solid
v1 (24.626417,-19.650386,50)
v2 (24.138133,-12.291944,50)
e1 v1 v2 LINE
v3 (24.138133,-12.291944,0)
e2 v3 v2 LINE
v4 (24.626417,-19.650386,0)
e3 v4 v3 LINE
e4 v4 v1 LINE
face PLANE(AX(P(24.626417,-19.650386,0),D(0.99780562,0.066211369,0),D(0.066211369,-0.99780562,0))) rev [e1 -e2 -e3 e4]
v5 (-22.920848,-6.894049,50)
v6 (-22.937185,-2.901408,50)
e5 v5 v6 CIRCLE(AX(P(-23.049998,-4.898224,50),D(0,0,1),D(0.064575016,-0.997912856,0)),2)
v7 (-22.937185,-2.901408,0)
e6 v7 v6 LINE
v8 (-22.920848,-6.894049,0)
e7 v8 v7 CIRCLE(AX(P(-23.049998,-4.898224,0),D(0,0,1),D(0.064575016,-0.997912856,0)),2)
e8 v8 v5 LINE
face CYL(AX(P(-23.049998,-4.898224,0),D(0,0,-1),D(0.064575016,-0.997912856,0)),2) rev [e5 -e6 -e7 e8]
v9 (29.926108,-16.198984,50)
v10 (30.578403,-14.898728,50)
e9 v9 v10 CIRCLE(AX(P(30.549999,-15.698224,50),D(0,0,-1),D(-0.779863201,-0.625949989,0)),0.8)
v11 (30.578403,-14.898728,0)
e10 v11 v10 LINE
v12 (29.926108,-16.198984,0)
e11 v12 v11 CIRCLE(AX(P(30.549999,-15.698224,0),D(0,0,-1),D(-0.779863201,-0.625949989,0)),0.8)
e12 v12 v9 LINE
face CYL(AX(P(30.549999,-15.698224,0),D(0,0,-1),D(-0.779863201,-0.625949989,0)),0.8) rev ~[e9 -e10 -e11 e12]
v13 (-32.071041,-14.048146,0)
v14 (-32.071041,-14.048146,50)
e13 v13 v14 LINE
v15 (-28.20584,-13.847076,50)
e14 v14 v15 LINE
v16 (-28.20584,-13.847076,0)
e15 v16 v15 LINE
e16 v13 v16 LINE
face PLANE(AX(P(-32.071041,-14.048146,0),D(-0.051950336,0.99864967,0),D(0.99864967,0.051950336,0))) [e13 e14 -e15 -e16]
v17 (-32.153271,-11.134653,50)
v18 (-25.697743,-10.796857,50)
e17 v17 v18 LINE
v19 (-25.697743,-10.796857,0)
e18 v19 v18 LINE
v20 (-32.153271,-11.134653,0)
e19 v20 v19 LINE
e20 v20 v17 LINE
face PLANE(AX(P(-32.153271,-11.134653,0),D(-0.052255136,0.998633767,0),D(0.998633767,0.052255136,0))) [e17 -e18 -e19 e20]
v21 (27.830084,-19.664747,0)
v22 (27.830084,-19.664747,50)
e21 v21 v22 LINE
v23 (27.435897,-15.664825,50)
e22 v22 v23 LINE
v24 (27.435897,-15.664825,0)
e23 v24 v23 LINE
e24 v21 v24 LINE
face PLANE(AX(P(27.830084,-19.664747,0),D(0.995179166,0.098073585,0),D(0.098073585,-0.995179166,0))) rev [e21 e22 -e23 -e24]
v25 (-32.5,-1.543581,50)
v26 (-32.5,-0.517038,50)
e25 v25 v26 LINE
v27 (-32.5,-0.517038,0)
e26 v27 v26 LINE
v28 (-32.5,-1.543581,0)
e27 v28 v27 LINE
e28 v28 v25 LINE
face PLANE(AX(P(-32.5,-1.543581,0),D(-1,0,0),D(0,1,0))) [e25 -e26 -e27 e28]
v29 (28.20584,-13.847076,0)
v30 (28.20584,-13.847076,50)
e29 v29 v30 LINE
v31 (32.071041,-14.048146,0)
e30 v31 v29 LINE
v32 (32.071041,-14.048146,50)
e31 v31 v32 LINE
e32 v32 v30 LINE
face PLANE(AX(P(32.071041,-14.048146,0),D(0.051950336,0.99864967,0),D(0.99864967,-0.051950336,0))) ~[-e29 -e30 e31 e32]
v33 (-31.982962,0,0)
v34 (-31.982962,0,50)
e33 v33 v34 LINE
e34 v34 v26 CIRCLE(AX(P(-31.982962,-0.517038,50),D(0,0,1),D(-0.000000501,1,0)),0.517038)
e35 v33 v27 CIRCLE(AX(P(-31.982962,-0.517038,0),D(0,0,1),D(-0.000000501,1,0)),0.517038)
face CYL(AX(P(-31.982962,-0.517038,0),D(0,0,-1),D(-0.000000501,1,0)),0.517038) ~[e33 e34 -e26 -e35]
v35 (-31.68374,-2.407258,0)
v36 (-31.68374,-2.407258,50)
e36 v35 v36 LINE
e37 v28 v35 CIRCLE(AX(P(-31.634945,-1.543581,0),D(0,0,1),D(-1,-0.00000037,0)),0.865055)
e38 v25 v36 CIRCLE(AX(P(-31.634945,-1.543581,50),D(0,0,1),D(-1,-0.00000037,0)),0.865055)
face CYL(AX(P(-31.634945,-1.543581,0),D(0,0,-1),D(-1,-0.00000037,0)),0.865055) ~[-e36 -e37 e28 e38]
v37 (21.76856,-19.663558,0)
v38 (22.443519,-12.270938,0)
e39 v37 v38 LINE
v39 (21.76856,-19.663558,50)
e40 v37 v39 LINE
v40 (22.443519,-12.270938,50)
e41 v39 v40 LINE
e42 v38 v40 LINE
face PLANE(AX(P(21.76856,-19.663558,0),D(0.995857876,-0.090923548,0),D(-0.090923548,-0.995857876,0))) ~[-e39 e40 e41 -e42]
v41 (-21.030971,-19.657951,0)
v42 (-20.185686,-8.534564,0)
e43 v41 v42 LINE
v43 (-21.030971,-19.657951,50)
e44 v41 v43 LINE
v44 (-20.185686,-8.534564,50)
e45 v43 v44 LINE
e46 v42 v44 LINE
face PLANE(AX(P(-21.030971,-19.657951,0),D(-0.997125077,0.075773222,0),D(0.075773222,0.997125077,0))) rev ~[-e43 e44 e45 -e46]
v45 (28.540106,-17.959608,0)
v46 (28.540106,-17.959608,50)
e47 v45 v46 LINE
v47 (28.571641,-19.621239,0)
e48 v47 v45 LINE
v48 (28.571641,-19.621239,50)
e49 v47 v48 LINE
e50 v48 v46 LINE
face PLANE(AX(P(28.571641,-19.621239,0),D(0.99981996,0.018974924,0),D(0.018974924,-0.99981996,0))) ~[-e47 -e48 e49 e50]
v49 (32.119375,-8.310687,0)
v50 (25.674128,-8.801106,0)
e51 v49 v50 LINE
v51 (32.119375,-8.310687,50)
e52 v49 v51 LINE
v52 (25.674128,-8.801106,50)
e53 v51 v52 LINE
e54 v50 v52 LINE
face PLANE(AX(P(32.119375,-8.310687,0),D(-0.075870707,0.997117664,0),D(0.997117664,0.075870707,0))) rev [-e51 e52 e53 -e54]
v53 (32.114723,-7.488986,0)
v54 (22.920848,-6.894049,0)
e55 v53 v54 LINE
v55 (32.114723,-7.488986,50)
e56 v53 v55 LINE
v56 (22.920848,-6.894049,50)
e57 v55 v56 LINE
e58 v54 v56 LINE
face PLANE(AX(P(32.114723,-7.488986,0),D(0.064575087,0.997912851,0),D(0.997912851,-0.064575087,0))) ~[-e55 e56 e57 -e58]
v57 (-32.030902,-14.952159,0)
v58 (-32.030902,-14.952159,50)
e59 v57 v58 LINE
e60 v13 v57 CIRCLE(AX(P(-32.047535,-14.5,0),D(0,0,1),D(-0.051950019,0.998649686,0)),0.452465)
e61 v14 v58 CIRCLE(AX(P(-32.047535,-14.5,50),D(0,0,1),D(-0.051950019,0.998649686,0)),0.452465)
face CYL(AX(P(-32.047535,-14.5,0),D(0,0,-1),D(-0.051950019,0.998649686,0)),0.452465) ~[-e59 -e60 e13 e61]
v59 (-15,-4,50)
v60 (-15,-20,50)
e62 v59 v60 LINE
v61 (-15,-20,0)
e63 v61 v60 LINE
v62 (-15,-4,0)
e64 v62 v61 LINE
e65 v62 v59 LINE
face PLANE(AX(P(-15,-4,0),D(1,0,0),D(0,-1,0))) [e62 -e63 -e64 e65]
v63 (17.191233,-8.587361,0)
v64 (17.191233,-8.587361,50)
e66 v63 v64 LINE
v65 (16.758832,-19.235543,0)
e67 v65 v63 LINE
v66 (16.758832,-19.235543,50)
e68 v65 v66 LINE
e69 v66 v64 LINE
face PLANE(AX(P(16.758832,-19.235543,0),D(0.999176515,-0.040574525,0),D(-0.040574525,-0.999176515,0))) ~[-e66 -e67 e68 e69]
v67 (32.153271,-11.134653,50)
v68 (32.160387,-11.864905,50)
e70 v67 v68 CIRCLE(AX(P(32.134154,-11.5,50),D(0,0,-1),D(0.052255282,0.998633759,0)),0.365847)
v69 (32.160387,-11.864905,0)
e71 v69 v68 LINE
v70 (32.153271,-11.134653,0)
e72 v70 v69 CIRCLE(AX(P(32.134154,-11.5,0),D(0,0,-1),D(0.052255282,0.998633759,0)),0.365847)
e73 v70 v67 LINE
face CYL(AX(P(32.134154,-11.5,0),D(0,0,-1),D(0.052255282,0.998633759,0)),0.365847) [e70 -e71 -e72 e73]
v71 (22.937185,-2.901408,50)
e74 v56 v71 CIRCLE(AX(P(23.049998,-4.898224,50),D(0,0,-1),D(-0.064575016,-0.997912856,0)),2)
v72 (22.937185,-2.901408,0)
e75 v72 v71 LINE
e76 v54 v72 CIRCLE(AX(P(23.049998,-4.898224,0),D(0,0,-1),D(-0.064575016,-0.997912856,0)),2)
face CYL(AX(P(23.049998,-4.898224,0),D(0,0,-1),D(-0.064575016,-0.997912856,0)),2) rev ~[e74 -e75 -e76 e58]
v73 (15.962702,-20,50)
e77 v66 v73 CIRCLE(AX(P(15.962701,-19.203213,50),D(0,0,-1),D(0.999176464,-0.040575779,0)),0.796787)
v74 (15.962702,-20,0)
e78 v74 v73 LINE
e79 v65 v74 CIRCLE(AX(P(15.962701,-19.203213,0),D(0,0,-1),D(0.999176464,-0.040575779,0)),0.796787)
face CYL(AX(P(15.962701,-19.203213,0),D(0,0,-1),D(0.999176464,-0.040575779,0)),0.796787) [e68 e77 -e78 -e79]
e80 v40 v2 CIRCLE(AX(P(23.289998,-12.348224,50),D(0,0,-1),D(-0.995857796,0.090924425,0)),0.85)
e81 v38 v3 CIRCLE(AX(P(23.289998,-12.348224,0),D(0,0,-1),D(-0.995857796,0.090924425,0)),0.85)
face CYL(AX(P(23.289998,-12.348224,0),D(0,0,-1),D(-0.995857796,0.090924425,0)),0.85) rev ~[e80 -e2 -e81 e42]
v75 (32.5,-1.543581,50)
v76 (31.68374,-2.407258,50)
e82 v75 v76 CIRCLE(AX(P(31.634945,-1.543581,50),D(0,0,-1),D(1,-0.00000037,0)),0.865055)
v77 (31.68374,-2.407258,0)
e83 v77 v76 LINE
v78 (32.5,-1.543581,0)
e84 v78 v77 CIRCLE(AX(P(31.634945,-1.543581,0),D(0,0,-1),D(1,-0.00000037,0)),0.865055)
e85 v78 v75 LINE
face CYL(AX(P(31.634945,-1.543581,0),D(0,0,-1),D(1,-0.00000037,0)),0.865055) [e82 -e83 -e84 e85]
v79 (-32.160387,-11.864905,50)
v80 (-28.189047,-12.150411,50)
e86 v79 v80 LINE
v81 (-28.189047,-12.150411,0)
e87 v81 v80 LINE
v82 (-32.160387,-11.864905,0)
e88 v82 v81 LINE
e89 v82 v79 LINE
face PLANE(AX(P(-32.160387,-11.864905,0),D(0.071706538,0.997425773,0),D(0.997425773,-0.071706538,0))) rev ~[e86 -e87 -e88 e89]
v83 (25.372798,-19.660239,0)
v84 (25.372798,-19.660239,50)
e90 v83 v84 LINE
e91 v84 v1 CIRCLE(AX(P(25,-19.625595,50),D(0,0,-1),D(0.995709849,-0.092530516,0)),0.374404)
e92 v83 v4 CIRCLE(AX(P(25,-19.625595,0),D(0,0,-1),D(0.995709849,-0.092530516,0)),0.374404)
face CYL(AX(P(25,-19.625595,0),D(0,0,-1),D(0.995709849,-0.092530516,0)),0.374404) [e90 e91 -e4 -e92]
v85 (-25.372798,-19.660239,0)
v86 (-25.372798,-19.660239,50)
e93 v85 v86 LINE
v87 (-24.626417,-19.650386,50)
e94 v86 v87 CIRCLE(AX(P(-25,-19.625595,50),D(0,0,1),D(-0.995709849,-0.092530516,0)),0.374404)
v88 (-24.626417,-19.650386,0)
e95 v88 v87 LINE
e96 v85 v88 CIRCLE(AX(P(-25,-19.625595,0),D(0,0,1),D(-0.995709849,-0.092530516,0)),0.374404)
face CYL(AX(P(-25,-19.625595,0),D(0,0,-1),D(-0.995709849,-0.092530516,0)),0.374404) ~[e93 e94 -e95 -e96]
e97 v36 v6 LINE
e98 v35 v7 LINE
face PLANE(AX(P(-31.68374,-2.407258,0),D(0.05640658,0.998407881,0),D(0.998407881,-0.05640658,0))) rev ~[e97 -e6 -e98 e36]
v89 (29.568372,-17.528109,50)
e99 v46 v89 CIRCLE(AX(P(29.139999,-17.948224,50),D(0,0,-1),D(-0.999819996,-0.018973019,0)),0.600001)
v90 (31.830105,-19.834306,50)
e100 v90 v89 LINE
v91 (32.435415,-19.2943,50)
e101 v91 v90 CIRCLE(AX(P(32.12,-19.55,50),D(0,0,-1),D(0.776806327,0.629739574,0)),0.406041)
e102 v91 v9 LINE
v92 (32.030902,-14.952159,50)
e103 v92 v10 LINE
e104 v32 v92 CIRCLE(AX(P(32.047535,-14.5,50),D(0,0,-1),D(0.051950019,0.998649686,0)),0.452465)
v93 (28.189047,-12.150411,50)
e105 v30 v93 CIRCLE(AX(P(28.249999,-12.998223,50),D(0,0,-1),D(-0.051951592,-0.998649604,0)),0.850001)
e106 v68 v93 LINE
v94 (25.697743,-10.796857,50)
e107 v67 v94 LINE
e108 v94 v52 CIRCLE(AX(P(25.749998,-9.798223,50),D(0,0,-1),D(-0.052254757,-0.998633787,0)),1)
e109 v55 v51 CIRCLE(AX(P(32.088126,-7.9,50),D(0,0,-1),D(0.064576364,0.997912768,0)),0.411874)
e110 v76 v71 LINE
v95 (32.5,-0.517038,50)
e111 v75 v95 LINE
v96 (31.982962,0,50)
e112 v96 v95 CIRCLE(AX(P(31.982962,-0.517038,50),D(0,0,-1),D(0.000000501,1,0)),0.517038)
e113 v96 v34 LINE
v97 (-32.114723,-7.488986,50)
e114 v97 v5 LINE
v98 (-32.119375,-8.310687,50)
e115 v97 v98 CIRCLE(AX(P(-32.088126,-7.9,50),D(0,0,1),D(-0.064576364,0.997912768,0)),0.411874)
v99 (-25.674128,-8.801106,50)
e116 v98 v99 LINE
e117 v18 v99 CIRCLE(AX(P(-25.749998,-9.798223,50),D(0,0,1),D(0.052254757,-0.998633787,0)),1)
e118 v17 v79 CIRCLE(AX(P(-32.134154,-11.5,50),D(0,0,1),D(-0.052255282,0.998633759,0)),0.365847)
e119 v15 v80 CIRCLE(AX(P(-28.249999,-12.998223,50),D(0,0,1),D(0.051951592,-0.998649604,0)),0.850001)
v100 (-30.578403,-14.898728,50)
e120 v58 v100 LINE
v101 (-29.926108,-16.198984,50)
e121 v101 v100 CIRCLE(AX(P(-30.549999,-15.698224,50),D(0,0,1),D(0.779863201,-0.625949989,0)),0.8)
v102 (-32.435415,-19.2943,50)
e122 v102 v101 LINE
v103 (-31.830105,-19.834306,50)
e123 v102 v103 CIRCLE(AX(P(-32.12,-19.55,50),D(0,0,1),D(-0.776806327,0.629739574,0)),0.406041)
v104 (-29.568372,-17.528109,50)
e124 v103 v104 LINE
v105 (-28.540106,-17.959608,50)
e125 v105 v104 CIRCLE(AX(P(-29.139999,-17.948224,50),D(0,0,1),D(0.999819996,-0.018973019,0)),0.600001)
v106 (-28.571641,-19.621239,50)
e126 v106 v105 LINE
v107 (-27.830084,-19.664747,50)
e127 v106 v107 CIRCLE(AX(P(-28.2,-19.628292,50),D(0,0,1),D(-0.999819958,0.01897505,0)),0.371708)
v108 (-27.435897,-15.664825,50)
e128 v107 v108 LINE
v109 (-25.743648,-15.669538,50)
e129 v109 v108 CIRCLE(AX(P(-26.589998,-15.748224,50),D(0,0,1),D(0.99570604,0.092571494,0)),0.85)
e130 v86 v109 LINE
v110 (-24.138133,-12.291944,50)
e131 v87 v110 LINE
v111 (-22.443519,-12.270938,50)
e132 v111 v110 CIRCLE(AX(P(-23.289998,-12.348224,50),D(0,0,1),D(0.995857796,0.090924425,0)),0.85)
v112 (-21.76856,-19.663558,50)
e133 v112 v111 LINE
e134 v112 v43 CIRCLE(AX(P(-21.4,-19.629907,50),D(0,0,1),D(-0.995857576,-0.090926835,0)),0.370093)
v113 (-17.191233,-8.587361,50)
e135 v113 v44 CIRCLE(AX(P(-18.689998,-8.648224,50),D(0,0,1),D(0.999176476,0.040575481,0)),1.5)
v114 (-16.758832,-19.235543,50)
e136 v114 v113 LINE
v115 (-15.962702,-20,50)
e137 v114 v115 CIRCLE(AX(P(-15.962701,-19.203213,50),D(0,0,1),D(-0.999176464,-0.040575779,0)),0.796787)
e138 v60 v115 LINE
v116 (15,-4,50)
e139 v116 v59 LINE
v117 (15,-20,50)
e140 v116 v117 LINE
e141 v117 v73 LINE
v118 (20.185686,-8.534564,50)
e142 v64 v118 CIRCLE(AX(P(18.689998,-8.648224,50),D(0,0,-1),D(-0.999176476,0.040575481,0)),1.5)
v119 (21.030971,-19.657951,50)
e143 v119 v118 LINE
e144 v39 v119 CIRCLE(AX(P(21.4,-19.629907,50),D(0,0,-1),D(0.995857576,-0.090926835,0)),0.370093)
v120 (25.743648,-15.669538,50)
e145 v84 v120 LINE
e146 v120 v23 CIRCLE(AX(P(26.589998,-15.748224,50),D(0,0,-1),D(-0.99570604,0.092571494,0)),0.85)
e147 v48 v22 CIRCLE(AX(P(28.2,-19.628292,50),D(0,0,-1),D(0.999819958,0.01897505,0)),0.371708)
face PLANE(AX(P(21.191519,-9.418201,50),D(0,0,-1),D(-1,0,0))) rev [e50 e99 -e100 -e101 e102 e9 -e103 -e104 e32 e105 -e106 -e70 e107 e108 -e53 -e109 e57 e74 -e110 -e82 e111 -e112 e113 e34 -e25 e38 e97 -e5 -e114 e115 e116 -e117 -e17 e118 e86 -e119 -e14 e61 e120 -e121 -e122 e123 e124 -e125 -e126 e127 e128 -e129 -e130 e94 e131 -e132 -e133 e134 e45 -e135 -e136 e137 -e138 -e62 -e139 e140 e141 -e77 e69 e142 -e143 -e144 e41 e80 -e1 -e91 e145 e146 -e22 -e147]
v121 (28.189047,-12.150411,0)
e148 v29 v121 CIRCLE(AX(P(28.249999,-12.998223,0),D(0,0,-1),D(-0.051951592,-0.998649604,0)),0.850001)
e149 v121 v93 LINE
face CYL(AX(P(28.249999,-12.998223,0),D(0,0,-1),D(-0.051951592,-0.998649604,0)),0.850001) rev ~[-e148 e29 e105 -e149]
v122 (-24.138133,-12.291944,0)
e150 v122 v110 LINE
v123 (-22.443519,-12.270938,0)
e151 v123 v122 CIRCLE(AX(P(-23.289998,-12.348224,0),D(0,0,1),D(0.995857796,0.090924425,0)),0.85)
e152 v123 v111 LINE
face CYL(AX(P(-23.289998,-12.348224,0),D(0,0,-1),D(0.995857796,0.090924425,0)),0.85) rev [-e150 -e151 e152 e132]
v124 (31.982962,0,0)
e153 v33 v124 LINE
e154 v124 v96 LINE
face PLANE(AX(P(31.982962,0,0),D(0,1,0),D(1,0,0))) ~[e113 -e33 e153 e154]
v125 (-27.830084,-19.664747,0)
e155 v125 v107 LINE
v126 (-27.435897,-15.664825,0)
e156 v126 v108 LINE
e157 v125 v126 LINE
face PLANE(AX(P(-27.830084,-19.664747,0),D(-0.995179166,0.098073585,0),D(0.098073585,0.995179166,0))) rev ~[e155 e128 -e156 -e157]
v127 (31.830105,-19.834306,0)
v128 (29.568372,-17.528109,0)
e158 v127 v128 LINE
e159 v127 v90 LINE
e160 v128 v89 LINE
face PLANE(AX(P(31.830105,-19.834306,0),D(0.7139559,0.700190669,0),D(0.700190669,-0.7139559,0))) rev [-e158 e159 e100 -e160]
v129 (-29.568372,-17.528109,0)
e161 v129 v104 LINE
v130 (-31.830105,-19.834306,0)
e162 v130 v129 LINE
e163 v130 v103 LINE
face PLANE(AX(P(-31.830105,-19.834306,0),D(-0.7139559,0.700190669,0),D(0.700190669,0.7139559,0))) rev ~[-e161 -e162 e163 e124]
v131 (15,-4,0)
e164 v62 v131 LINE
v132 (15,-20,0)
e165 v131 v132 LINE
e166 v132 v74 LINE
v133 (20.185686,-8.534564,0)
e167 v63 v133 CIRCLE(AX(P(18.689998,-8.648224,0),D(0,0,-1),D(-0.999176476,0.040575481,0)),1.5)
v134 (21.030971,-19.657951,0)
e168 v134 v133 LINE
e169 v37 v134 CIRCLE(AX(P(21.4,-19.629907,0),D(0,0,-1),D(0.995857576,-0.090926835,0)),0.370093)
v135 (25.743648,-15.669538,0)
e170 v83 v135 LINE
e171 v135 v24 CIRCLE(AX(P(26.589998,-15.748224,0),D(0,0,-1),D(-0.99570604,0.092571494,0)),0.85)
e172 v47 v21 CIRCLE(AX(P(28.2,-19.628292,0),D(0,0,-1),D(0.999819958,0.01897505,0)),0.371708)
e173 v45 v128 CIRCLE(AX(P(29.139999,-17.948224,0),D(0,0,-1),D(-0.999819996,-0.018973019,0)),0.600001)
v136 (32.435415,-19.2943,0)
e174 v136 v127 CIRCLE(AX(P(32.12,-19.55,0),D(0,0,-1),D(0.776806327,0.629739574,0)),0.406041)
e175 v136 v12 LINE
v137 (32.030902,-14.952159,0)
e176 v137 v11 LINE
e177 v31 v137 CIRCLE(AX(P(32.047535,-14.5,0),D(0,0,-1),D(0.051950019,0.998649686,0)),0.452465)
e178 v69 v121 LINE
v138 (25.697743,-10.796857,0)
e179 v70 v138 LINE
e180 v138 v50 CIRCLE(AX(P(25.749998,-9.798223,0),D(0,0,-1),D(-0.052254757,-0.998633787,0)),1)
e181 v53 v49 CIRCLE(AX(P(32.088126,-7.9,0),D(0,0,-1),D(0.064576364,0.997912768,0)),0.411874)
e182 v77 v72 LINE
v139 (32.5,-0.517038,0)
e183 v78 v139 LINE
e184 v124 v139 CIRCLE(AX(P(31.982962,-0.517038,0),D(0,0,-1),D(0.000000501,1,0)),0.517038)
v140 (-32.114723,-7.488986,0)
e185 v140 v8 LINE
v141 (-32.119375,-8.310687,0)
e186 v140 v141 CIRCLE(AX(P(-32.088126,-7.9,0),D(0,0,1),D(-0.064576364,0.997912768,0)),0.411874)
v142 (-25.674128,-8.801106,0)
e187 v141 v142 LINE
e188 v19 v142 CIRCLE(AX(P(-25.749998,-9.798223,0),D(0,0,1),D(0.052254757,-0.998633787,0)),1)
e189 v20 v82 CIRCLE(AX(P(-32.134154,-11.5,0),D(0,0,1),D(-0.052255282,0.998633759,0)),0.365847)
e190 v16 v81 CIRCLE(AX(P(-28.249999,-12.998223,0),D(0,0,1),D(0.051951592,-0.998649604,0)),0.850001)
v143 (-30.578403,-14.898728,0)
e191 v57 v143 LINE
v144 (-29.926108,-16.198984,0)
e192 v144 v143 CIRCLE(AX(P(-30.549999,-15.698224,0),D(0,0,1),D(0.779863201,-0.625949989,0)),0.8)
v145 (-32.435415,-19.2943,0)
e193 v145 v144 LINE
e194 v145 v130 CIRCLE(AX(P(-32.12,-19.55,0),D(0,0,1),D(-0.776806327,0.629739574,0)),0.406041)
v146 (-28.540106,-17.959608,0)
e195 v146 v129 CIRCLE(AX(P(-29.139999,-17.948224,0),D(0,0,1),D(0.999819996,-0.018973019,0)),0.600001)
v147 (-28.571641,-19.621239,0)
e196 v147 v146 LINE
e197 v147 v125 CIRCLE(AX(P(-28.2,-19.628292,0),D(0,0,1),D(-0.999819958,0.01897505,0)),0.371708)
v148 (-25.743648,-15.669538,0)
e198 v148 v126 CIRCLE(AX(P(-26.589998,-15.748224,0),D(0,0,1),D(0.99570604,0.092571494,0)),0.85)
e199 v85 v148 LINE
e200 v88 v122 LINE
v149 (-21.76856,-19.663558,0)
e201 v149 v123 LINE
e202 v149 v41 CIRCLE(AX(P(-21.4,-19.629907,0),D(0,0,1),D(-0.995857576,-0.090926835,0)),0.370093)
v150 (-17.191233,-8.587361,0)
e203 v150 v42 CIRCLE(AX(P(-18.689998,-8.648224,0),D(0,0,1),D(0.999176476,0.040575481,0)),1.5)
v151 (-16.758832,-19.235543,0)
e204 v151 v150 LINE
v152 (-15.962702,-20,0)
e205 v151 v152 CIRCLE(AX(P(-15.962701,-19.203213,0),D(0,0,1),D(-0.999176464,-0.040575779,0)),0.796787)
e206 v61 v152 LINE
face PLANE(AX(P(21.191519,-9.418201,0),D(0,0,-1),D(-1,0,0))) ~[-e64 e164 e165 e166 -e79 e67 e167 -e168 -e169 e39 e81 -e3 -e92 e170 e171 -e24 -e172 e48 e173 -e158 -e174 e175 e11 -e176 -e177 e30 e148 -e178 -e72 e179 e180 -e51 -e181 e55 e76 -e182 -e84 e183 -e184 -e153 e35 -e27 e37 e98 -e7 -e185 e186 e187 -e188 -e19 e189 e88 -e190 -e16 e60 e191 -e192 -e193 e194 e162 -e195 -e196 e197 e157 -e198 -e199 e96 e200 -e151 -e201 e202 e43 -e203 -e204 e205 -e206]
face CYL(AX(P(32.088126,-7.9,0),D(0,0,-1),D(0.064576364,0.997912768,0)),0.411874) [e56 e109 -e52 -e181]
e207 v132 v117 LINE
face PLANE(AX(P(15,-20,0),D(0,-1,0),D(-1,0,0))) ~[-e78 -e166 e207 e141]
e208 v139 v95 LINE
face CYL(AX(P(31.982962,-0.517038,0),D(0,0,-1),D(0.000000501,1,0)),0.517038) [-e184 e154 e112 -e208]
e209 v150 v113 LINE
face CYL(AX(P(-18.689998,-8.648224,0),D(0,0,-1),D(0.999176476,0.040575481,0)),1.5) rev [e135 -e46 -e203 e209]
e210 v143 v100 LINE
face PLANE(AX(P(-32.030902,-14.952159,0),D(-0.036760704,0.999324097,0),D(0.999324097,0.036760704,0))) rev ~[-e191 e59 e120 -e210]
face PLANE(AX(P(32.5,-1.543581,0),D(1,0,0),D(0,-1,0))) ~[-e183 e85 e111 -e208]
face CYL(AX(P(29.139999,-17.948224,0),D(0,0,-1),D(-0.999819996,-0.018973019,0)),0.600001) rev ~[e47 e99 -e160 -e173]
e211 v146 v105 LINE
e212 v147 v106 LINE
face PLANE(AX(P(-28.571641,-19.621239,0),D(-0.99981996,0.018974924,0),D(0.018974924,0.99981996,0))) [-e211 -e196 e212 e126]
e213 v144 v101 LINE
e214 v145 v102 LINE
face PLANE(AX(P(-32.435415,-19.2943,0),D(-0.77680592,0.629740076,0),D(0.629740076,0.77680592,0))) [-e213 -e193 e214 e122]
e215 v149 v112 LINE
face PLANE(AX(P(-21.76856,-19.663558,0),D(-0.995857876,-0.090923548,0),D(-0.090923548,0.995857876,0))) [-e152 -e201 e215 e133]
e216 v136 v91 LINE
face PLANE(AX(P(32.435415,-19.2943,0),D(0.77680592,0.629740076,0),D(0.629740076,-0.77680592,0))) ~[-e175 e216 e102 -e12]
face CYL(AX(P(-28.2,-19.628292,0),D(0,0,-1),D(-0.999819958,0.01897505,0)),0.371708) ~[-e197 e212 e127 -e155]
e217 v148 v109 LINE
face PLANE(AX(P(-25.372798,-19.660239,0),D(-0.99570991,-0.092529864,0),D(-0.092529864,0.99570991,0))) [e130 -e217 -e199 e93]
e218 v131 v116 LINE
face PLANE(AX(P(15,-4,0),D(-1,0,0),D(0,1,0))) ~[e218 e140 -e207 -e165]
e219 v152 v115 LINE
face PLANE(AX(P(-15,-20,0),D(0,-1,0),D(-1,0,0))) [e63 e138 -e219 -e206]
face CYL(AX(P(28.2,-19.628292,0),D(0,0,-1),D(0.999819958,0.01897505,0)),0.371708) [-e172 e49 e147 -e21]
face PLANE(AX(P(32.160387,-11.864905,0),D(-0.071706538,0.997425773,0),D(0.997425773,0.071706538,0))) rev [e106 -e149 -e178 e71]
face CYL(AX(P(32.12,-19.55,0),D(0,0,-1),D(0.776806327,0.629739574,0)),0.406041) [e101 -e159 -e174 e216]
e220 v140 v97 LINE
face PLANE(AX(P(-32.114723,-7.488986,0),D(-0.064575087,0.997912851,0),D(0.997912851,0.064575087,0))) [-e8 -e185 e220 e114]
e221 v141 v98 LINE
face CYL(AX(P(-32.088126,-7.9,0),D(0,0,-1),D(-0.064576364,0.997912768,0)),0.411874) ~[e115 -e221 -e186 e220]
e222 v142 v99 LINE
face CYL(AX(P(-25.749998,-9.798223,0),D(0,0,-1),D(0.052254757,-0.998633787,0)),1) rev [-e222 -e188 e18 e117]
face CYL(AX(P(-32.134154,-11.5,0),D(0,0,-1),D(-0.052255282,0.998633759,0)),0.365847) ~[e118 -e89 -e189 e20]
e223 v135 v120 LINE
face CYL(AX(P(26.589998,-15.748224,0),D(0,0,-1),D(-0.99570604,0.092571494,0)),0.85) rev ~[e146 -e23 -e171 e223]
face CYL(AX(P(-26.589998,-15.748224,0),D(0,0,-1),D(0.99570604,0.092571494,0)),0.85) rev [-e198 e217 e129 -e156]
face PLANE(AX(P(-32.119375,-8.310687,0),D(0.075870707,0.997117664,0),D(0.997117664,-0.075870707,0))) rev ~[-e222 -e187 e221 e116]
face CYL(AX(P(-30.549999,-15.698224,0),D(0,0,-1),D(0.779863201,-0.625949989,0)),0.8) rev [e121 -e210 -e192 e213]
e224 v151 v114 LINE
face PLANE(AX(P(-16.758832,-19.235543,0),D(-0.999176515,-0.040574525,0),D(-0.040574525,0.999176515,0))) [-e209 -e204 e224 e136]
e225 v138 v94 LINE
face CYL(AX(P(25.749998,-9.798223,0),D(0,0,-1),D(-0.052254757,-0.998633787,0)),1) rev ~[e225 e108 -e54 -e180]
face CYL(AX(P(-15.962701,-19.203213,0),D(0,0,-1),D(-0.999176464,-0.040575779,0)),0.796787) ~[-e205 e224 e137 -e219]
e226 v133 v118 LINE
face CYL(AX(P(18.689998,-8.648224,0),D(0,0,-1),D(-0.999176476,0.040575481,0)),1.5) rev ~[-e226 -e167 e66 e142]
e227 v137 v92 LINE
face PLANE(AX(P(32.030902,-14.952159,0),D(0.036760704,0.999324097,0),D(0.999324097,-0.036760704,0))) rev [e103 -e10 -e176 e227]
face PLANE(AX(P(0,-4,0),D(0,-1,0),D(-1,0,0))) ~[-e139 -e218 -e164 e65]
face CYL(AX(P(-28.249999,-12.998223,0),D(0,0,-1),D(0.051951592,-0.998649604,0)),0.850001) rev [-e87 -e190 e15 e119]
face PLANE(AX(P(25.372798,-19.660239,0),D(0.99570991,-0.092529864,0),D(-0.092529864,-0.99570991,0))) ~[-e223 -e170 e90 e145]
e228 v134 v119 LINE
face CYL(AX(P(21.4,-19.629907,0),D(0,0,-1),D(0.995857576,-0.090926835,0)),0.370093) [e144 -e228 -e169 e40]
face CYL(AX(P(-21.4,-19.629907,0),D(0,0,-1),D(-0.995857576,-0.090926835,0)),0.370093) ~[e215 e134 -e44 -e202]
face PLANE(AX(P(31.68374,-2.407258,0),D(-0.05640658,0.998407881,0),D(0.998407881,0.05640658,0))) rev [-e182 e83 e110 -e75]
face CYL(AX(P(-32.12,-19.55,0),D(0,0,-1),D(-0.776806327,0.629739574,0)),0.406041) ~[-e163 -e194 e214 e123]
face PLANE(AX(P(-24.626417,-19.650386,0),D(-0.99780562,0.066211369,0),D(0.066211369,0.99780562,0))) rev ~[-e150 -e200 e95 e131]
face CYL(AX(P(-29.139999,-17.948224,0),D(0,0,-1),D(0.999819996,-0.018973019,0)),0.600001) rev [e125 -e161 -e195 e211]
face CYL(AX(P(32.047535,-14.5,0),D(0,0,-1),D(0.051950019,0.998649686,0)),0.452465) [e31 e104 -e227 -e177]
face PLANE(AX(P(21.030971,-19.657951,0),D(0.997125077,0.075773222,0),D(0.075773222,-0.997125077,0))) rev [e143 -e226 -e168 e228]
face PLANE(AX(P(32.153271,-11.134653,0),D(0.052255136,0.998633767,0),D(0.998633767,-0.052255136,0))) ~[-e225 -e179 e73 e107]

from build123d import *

# Parameters (mm, degrees)
PAD_DEPTH = 50


with BuildPart() as part:
    # Sketch → Pad (new body)
    with BuildSketch(Plane.XY):
        with BuildLine():
            Line((0, 0), (0, -4))
            Line((0, -4), (-15, -4))
            Line((-15, -4), (-15, -20))
            Line((-15, -20), (-15.962702, -20))
            ThreePointArc((-16.758832, -19.235543), (-16.514566, -19.777943), (-15.962702, -20))
            Line((-16.758832, -19.235543), (-17.191233, -8.587361))
            ThreePointArc((-17.191233, -8.587361), (-18.663554, -7.148457), (-20.185686, -8.534564))
            Line((-21.030971, -19.657951), (-20.185686, -8.534564))
            ThreePointArc((-21.76856, -19.663558), (-21.397187, -19.999989), (-21.030971, -19.657951))
            Line((-21.76856, -19.663558), (-22.443519, -12.270938))
            ThreePointArc((-22.443519, -12.270938), (-23.300533, -11.498289), (-24.138133, -12.291944))
            Line((-24.626417, -19.650386), (-24.138133, -12.291944))
            ThreePointArc((-25.372798, -19.660239), (-24.995058, -19.999967), (-24.626417, -19.650386))
            Line((-25.372798, -19.660239), (-25.743648, -15.669538))
            ThreePointArc((-25.743648, -15.669538), (-26.587631, -14.898227), (-27.435897, -15.664825))
            Line((-27.830084, -19.664747), (-27.435897, -15.664825))
            ThreePointArc((-28.571641, -19.621239), (-28.221771, -19.999362), (-27.830084, -19.664747))
            Line((-28.571641, -19.621239), (-28.540106, -17.959608))
            ThreePointArc((-28.540106, -17.959608), (-28.907829, -17.394963), (-29.568372, -17.528109))
            Line((-31.830105, -19.834306), (-29.568372, -17.528109))
            ThreePointArc((-32.435415, -19.2943), (-32.390304, -19.852993), (-31.830105, -19.834306))
            Line((-32.435415, -19.2943), (-29.926108, -16.198984))
            ThreePointArc((-29.926108, -16.198984), (-29.834934, -15.3395), (-30.578403, -14.898728))
            Line((-32.030902, -14.952159), (-30.578403, -14.898728))
            ThreePointArc((-32.071041, -14.048146), (-32.499555, -14.52007), (-32.030902, -14.952159))
            Line((-32.071041, -14.048146), (-28.20584, -13.847076))
            ThreePointArc((-28.20584, -13.847076), (-27.40004, -13.006636), (-28.189047, -12.150411))
            Line((-32.160387, -11.864905), (-28.189047, -12.150411))
            ThreePointArc((-32.153271, -11.134653), (-32.499983, -11.496435), (-32.160387, -11.864905))
            Line((-32.153271, -11.134653), (-25.697743, -10.796857))
            ThreePointArc((-25.697743, -10.796857), (-24.750068, -9.810055), (-25.674128, -8.801106))
            Line((-32.119375, -8.310687), (-25.674128, -8.801106))
            ThreePointArc((-32.114723, -7.488986), (-32.499993, -7.897668), (-32.119375, -8.310687))
            Line((-32.114723, -7.488986), (-22.920848, -6.894049))
            ThreePointArc((-22.920848, -6.894049), (-21.050015, -4.89004), (-22.937185, -2.901408))
            Line((-31.68374, -2.407258), (-22.937185, -2.901408))
            ThreePointArc((-32.5, -1.543581), (-32.263646, -2.137765), (-31.68374, -2.407258))
            Line((-32.5, -1.543581), (-32.5, -0.517038))
            ThreePointArc((-31.982962, 0), (-32.348563, -0.151437), (-32.5, -0.517038))
            Line((-31.982962, 0), (0, 0))
        make_face()
    pad = extrude(amount=PAD_DEPTH)

    # Mirrored: Pad across Sketch V_Axis
    add(pad.mirror(Plane(origin=(0, 0, 0), x_dir=(0, 0, 1), z_dir=(1, 0, 0))))


solid = part.part
